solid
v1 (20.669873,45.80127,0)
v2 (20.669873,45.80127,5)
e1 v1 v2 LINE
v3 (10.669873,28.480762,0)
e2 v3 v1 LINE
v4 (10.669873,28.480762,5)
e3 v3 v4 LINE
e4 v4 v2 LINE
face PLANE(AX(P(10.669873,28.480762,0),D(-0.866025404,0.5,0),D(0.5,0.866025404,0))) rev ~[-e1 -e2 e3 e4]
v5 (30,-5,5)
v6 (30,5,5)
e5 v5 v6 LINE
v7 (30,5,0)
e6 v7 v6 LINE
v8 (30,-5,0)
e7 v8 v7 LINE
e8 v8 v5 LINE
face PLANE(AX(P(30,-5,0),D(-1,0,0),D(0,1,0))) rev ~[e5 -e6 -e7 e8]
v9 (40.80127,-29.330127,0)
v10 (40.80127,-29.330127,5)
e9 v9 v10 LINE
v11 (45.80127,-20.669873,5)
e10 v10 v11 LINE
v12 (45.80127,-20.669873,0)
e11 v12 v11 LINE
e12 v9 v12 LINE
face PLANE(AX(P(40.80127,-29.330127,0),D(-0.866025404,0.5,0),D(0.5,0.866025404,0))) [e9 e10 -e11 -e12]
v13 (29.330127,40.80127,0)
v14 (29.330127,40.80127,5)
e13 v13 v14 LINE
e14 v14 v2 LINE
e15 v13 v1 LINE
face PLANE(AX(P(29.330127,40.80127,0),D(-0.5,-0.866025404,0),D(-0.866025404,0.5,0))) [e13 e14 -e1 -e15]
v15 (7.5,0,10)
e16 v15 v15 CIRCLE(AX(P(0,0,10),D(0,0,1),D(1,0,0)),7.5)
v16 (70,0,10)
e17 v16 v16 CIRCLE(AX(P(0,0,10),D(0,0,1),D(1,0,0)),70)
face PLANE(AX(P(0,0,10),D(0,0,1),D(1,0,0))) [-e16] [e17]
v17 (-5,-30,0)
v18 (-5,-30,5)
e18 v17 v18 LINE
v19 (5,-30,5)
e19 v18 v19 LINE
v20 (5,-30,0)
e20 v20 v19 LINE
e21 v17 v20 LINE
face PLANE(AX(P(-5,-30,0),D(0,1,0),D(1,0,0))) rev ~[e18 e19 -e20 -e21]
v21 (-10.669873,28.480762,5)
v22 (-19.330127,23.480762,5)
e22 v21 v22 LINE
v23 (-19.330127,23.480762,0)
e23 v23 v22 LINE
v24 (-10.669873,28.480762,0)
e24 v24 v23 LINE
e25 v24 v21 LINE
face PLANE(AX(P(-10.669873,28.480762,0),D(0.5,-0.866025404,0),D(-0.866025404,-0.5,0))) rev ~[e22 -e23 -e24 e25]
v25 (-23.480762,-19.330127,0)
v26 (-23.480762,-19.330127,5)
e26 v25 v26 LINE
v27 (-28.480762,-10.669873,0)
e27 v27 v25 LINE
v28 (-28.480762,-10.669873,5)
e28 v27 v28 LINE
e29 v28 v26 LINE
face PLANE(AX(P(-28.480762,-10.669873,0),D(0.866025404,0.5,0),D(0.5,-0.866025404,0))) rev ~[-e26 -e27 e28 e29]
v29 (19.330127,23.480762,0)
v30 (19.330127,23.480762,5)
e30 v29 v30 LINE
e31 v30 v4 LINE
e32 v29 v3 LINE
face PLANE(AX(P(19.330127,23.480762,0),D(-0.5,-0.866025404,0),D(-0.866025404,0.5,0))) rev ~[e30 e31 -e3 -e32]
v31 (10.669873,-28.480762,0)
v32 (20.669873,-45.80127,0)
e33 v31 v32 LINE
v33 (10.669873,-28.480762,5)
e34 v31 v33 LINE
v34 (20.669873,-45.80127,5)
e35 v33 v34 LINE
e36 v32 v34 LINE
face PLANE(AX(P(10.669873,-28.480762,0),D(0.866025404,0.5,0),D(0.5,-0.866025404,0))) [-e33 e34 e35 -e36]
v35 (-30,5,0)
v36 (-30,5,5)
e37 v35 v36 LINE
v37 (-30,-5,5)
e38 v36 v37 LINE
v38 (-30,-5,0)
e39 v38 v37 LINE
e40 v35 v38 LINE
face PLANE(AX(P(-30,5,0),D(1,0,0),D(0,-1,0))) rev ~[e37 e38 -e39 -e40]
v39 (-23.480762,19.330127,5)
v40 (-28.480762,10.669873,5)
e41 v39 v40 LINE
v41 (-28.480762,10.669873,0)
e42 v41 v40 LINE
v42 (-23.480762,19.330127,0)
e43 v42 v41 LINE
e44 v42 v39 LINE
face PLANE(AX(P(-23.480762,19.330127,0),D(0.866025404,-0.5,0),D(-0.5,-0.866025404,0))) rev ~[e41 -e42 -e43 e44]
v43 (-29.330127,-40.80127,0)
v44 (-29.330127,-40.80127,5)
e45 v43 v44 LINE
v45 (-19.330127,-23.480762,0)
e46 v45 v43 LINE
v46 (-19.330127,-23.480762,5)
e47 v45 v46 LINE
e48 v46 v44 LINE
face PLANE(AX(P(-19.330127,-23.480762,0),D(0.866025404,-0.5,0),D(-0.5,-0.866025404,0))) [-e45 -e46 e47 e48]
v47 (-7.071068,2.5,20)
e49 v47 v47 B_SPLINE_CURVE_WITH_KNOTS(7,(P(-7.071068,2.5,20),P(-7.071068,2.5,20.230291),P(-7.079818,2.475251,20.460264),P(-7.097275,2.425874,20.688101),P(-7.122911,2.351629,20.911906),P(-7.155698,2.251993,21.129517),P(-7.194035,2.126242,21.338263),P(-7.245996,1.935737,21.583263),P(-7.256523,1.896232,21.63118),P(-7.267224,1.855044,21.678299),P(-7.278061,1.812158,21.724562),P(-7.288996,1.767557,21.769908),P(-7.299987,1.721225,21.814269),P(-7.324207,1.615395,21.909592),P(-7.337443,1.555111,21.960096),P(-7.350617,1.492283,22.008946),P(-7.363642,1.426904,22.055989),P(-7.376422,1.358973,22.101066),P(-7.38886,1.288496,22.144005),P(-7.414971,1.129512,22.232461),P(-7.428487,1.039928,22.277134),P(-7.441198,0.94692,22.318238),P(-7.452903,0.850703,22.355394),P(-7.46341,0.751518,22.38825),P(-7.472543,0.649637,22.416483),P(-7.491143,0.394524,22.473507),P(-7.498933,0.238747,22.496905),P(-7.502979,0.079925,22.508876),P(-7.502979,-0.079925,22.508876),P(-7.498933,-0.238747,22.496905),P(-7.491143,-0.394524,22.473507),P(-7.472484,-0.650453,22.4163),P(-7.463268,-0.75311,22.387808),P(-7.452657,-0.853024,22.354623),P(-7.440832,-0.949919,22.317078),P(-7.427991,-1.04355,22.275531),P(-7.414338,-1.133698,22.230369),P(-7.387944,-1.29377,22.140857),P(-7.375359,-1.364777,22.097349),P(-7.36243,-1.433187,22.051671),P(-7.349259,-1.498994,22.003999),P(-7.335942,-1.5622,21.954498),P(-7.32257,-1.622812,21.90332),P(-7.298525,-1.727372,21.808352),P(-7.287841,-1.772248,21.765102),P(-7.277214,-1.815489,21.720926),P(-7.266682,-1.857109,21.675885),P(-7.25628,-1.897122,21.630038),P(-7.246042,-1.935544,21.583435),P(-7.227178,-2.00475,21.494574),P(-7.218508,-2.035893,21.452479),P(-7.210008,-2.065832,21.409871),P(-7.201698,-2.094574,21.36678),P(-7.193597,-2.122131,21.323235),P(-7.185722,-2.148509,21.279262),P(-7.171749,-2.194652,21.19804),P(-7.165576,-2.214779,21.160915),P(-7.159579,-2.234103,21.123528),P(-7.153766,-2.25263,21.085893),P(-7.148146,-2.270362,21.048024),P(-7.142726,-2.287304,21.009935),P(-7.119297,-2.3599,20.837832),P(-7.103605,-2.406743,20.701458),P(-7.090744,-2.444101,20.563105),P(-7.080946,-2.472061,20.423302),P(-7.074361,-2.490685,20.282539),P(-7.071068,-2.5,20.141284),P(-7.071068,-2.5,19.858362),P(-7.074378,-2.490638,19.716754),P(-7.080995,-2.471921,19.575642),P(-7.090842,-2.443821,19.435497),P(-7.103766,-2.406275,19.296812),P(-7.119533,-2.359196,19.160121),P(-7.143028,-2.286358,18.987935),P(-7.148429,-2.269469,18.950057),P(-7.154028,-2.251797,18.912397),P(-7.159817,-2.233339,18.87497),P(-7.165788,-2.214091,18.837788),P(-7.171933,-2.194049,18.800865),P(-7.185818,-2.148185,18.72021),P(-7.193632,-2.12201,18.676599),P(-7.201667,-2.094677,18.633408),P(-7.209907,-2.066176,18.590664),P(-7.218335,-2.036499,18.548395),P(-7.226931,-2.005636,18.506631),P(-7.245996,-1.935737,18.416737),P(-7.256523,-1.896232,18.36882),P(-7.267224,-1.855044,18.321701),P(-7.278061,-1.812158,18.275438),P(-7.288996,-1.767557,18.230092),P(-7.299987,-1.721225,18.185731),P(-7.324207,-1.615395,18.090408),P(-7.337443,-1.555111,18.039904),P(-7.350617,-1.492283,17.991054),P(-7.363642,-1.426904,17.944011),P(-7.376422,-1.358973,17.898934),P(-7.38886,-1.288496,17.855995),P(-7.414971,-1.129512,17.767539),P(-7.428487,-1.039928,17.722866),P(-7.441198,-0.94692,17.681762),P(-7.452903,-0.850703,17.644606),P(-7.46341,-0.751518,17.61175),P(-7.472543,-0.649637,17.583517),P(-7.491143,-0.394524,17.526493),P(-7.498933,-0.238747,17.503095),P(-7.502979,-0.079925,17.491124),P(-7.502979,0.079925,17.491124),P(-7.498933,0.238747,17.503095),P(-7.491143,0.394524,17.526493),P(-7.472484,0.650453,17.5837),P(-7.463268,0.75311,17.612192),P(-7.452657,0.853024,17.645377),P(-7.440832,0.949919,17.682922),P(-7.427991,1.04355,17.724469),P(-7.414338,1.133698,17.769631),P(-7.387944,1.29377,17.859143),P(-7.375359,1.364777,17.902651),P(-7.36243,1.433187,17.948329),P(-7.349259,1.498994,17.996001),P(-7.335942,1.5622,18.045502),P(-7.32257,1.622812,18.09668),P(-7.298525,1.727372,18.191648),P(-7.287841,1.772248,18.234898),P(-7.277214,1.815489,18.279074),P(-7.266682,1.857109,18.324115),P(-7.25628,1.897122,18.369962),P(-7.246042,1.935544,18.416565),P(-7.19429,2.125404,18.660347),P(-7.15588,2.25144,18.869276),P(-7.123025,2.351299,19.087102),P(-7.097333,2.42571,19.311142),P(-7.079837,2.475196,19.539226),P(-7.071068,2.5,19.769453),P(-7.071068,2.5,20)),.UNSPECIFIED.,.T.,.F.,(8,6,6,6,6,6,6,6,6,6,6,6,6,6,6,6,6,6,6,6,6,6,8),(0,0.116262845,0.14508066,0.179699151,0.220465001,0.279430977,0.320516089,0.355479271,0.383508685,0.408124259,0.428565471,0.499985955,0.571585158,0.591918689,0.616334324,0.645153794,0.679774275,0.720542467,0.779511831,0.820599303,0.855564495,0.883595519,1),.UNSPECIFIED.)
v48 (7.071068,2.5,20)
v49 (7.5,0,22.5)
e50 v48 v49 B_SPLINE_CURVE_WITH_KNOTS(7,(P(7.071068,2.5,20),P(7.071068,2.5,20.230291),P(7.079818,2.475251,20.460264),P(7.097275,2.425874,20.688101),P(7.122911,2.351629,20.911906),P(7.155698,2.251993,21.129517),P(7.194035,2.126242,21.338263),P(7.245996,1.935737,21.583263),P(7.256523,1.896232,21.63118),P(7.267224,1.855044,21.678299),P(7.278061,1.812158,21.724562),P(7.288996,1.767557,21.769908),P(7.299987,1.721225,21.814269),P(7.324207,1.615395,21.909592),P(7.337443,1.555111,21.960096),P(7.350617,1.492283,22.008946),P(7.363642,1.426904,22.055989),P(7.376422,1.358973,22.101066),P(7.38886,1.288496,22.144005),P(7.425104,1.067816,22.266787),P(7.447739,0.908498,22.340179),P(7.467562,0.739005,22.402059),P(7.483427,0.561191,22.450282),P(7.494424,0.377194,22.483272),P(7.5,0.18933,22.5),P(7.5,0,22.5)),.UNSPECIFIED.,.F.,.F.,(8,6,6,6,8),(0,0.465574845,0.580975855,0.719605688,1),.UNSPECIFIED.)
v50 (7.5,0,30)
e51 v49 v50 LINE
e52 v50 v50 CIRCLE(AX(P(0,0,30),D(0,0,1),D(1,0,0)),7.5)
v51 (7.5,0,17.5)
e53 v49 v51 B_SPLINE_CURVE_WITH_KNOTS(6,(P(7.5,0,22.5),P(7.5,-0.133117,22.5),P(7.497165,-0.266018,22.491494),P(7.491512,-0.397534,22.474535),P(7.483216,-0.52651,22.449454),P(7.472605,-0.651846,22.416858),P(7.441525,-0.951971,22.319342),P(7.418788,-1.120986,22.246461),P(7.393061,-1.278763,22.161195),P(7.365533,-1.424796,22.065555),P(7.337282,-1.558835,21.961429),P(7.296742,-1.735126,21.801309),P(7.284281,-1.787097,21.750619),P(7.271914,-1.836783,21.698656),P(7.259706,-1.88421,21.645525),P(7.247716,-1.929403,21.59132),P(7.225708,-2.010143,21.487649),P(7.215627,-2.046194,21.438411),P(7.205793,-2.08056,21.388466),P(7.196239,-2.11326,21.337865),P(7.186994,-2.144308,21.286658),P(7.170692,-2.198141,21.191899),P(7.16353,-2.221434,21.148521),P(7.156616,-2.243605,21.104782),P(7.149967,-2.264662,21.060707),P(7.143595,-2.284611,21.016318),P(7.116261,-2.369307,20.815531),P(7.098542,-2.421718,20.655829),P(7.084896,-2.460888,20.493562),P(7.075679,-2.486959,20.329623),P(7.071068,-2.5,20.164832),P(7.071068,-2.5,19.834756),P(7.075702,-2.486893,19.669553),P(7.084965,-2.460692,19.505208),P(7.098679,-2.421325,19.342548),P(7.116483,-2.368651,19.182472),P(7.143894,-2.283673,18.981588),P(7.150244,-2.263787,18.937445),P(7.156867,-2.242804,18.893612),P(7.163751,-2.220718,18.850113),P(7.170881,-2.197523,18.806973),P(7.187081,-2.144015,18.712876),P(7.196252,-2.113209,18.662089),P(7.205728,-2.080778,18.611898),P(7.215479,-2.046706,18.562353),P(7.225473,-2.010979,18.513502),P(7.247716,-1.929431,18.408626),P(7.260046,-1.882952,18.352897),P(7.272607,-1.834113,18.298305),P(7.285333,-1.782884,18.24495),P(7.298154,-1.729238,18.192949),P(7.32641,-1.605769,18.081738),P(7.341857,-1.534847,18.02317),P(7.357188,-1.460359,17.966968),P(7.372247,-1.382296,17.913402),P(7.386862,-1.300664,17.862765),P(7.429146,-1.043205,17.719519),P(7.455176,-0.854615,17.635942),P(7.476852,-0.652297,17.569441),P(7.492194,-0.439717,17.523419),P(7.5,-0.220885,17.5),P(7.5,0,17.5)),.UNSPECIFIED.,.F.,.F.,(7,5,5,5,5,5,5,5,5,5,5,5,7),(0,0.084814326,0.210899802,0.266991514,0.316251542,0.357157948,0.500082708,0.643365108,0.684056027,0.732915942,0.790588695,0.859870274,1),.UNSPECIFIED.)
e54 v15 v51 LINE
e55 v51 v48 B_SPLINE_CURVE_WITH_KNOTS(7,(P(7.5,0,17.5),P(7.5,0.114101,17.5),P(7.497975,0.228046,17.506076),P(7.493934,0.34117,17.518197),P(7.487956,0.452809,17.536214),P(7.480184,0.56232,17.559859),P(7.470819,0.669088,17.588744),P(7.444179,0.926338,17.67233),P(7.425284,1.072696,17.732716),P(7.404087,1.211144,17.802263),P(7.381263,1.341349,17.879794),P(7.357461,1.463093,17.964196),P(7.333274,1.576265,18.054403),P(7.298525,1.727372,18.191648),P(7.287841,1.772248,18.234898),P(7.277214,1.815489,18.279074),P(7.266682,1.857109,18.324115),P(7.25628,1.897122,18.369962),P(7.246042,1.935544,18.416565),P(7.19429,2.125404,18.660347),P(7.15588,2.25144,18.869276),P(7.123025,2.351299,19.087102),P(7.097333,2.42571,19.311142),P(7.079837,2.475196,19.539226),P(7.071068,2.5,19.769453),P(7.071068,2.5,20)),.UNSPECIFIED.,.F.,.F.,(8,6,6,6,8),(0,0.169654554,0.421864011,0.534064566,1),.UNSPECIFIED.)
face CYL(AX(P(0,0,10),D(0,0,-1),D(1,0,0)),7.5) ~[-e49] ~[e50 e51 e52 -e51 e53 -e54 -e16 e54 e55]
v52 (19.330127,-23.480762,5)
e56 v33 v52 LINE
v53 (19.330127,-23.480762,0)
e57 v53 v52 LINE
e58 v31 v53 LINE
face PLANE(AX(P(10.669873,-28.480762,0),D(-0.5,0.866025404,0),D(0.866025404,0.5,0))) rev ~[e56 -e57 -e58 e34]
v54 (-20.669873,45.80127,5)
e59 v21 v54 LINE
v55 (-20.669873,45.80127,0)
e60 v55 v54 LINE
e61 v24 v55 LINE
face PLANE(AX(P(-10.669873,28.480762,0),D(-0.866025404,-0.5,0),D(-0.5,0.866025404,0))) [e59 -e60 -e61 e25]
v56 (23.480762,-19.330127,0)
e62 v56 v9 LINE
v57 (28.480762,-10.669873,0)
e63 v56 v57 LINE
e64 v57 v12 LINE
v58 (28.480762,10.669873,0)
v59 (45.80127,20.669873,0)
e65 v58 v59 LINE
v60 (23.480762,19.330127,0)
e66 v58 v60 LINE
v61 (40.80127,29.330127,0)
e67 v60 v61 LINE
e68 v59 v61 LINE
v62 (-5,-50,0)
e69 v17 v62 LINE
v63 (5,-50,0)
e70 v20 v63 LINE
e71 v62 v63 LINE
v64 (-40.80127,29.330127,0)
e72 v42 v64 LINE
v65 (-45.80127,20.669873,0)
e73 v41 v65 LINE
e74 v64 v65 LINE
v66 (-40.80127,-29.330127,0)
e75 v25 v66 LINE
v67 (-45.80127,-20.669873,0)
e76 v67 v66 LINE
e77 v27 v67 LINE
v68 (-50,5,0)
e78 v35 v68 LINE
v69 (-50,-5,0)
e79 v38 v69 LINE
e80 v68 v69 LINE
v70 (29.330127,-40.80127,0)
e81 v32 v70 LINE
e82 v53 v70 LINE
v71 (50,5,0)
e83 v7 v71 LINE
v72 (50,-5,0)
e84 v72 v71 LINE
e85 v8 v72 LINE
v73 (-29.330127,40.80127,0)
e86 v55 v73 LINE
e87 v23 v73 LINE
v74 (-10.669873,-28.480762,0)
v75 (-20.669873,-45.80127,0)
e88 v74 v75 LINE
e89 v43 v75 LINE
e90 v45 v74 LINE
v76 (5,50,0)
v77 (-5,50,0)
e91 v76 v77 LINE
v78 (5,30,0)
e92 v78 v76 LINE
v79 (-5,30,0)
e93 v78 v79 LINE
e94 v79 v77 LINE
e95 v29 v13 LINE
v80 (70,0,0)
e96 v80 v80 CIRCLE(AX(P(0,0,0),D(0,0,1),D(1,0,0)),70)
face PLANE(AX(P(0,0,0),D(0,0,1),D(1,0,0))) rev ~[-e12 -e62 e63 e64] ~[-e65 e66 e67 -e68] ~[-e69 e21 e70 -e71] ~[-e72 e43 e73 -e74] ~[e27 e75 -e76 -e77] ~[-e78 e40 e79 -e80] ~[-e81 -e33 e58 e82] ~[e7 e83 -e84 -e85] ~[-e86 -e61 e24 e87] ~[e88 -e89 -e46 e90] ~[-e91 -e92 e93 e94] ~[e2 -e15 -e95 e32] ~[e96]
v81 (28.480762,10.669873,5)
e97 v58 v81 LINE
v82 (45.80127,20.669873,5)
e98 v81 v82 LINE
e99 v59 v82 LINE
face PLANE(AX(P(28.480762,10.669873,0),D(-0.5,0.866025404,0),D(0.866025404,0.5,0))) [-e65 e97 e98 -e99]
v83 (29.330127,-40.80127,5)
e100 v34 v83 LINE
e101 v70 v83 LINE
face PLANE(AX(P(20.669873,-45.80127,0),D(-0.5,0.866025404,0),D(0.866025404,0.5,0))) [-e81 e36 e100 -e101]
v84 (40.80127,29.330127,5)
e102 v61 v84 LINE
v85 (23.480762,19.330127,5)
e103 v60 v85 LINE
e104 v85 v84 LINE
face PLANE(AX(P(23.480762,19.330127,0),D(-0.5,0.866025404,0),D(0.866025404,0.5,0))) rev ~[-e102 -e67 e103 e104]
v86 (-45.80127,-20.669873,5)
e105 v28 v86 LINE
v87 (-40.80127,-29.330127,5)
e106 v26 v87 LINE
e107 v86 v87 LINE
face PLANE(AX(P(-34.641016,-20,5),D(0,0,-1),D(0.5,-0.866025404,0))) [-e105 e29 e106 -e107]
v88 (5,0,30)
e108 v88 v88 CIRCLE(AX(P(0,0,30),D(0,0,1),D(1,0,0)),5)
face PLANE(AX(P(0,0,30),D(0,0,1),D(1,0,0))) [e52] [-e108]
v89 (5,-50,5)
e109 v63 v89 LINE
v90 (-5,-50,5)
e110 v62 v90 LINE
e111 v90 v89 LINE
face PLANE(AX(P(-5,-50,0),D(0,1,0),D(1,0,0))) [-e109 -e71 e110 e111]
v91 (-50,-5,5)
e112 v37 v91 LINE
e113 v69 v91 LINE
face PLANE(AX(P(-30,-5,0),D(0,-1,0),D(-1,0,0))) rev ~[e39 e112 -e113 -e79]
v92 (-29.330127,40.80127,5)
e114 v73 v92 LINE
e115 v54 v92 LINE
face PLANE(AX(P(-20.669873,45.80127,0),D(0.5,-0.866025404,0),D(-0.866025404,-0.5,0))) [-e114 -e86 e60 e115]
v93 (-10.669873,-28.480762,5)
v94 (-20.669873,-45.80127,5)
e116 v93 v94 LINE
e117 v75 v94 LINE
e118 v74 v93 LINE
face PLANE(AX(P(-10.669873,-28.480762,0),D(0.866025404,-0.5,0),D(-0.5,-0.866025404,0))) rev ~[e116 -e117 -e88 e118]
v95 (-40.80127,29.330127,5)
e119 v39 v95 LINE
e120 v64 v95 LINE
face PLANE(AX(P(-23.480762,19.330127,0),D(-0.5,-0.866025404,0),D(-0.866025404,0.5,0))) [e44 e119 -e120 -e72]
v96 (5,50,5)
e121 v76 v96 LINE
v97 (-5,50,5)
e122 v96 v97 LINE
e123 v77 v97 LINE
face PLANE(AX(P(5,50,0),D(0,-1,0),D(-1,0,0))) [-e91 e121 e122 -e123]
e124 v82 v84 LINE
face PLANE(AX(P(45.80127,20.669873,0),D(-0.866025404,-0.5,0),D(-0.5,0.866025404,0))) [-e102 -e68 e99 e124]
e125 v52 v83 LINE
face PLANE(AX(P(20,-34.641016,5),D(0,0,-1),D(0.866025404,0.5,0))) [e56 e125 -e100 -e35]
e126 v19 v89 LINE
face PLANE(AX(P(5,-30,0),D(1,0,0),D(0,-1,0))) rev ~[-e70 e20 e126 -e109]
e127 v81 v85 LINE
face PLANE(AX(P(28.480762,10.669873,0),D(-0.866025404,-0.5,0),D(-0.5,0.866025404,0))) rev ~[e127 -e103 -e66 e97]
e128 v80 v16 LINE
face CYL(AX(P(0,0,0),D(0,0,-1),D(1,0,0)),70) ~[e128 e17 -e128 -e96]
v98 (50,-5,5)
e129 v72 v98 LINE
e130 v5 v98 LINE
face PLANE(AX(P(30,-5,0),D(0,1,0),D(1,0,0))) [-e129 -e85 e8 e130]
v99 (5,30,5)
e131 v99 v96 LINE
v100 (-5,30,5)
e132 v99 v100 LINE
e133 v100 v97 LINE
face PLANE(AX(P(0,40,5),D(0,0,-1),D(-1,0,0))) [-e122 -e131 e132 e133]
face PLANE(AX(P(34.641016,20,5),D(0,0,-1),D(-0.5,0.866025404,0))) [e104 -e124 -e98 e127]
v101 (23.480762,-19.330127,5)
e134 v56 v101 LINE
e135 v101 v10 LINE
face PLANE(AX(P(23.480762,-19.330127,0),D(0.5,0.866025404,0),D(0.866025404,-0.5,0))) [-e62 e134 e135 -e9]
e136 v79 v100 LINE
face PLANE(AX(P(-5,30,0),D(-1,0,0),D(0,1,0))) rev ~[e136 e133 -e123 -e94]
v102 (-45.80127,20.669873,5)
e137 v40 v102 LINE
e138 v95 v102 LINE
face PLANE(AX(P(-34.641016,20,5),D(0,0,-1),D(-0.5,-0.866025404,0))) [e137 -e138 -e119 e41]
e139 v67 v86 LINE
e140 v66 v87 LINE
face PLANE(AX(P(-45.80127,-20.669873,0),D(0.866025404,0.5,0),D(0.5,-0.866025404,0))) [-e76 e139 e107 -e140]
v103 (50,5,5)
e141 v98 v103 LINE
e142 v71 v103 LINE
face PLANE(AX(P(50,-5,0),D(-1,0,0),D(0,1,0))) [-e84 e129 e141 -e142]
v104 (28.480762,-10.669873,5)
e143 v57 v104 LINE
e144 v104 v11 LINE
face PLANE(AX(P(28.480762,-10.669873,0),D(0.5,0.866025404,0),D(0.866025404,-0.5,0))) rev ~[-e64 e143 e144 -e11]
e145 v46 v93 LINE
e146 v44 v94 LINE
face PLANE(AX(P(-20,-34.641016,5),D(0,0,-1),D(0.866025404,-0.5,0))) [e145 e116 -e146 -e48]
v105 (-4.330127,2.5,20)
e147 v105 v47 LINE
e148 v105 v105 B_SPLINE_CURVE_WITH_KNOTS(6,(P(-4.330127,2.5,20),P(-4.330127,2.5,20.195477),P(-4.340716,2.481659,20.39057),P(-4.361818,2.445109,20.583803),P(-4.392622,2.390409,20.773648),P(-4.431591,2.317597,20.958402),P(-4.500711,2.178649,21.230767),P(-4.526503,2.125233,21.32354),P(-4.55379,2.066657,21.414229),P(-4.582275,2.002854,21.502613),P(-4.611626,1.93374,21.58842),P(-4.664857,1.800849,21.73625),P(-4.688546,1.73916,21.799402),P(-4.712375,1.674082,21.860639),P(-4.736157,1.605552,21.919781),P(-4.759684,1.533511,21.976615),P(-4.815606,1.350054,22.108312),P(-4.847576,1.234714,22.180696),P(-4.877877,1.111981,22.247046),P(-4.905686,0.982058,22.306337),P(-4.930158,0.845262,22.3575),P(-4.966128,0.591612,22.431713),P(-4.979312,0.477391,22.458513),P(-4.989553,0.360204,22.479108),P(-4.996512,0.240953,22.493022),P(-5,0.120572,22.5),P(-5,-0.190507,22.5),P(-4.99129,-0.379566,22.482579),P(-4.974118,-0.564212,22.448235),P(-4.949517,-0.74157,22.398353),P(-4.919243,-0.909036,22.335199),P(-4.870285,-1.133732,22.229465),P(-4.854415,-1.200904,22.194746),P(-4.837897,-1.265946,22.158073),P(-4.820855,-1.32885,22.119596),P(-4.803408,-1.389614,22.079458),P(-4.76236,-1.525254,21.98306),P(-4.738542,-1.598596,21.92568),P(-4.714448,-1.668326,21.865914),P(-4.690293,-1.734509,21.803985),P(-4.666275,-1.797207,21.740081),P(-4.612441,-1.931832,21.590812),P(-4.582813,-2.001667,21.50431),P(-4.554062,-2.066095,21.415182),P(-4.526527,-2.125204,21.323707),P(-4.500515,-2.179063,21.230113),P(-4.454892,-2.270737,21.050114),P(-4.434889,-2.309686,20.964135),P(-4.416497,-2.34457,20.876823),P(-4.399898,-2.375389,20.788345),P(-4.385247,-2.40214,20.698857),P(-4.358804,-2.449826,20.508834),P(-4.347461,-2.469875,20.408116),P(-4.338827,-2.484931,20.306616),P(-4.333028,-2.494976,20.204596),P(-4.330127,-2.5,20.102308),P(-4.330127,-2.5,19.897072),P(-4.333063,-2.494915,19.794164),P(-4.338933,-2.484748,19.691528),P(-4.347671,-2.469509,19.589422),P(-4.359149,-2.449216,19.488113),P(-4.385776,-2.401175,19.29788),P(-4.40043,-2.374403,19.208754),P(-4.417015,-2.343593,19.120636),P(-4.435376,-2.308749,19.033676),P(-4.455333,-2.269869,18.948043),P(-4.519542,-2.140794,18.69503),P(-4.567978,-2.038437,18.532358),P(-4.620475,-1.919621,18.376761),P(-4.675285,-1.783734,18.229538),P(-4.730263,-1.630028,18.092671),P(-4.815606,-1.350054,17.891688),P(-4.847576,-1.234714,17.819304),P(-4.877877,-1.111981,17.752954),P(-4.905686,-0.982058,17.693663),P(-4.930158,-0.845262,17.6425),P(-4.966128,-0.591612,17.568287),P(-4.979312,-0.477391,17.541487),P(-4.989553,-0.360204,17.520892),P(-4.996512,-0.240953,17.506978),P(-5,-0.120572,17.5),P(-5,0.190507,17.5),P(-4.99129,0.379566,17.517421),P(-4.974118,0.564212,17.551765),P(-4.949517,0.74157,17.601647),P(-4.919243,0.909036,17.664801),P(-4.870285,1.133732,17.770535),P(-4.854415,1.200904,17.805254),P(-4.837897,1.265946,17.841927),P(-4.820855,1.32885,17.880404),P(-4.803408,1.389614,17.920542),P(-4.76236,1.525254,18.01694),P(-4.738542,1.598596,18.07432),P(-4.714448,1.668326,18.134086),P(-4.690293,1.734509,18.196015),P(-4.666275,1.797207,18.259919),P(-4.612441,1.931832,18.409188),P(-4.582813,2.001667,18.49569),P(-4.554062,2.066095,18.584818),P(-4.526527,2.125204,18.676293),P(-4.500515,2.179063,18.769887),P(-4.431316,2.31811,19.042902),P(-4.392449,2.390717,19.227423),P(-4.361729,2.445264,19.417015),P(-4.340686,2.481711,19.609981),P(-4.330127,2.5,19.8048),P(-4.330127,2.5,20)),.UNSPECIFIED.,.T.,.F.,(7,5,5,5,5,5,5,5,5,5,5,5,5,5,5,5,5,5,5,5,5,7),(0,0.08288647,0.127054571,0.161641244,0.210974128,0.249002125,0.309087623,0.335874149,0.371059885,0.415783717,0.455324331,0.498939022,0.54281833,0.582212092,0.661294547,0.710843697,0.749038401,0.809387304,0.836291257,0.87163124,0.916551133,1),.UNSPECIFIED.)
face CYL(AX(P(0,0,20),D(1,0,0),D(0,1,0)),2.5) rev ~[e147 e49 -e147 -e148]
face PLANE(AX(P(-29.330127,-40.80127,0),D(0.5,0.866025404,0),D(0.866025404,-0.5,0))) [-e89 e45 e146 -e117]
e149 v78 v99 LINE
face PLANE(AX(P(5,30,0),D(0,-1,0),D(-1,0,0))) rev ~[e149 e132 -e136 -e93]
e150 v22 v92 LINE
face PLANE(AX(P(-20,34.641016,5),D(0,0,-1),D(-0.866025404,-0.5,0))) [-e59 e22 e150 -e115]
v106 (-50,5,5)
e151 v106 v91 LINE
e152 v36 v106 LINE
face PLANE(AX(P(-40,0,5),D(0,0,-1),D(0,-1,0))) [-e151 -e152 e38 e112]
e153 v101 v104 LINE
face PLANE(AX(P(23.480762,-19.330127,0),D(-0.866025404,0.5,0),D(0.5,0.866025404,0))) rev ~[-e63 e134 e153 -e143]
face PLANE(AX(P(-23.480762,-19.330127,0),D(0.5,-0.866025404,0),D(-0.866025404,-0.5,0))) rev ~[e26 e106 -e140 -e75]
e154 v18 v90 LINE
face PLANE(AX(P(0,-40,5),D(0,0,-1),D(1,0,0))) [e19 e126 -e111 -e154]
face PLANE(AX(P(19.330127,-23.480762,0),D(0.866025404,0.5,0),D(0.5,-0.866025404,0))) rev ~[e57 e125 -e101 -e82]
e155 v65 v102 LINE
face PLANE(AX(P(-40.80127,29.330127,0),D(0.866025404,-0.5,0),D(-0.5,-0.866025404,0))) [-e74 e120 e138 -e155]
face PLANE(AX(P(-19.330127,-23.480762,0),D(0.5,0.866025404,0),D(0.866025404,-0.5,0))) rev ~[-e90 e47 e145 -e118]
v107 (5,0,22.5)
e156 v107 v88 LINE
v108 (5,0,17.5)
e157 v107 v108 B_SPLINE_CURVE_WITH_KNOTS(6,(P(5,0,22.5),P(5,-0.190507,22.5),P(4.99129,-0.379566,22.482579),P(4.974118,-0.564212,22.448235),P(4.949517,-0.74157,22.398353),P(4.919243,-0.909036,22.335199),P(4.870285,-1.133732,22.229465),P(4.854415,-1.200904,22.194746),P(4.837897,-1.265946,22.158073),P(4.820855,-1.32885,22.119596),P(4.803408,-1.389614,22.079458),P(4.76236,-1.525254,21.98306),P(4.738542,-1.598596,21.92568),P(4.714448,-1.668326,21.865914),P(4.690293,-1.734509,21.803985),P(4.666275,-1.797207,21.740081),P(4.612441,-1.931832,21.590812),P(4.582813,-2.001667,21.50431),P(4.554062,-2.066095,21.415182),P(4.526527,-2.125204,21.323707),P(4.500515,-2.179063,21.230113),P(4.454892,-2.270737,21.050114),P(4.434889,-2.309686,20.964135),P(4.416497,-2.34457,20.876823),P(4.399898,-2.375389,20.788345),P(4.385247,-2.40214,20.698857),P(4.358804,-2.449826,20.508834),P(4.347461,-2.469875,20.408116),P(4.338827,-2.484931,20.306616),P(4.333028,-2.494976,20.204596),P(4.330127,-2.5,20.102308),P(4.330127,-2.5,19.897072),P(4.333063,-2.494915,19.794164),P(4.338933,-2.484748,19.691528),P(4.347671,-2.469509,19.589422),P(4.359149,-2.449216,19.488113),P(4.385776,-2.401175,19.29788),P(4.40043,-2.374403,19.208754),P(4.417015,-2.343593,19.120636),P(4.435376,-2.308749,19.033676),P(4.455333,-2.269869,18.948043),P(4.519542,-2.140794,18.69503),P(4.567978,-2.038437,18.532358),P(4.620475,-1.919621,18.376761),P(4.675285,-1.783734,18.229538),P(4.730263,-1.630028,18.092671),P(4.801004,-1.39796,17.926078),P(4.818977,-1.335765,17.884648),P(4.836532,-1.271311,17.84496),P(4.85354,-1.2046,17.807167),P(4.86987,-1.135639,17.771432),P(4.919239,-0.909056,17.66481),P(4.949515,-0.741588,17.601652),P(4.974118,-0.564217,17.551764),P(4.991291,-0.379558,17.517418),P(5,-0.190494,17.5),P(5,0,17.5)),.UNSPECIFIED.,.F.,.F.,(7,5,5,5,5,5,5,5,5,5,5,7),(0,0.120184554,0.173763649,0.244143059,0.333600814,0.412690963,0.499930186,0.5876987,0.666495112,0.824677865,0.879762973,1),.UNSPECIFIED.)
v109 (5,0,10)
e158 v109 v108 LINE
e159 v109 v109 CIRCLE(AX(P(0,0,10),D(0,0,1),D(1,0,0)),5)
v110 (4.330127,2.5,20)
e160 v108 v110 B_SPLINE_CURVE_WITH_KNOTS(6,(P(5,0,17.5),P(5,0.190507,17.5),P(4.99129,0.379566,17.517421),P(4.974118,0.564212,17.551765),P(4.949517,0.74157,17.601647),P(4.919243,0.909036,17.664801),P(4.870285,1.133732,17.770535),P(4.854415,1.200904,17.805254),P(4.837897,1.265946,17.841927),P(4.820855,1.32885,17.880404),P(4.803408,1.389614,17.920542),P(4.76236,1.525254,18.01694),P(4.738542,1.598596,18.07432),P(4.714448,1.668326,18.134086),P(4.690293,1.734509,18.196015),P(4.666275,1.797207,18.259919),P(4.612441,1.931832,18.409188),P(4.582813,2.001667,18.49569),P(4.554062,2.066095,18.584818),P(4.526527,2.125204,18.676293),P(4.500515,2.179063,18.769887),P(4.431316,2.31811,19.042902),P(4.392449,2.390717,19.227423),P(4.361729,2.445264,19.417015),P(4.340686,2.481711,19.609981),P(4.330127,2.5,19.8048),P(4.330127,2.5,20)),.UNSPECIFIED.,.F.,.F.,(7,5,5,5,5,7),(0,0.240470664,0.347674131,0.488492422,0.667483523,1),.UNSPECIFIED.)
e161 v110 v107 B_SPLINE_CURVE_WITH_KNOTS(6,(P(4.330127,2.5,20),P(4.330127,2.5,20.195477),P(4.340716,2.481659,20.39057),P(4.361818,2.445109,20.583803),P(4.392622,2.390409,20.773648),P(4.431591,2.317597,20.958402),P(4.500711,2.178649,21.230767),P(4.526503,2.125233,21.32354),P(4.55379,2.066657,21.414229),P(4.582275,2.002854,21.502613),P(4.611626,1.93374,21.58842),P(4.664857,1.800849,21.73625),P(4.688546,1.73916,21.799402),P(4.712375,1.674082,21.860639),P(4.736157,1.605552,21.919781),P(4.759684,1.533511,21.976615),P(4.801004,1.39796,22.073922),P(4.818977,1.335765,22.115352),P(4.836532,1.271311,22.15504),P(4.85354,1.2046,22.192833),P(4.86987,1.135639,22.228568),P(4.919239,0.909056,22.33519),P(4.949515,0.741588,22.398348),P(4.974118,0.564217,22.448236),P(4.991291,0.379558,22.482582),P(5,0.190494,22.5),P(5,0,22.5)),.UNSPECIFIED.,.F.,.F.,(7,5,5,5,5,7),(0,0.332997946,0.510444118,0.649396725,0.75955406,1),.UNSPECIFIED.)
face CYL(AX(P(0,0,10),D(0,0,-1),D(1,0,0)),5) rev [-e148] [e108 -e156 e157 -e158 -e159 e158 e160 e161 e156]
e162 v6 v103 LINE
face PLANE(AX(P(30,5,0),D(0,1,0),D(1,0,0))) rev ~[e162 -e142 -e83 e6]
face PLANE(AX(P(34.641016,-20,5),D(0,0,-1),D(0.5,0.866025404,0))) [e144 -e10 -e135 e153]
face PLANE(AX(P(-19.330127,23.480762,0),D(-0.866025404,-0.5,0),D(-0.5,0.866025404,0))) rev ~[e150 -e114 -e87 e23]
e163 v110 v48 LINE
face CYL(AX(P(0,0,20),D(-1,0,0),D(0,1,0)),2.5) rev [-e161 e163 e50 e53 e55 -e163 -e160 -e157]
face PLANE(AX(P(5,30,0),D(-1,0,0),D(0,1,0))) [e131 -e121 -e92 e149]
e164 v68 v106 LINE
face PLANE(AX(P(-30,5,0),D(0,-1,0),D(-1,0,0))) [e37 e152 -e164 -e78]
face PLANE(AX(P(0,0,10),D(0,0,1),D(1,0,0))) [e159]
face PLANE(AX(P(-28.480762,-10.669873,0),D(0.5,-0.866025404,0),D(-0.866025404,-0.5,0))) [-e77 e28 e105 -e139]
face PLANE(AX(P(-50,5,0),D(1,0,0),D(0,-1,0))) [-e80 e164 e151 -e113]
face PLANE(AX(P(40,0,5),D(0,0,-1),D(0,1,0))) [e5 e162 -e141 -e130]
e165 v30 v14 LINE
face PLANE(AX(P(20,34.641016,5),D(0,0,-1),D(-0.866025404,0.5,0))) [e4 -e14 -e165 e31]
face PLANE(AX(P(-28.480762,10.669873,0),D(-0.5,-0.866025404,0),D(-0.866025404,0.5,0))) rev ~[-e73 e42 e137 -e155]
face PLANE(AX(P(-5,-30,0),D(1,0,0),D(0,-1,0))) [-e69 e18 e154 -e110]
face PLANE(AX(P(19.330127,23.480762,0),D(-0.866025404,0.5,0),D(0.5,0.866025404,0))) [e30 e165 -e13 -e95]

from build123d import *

# Parameters (mm, degrees)
SKETCH_R             = 70
PAD_DEPTH            = 10
SKETCH001_W          = 10
SKETCH001_H          = 20
POCKET_DEPTH         = 5
POLARPATTERN_COUNT   = 12
SKETCH002_R          = 7.5
SKETCH002_R_2        = 5
PAD001_DEPTH         = 20
SKETCH003_R          = 2.5
POCKET001_DEPTH      = 70.001
POCKET001_DEPTH_BACK = -70.001


with BuildPart() as part:
    # Sketch → Pad (new body)
    with BuildSketch(Plane.XY):
        Circle(SKETCH_R)
    extrude(amount=PAD_DEPTH)

    # Sketch001 (on Face2 of Pad) → Pocket (cut)
    with BuildSketch(Plane(origin=(0, 0, 0), x_dir=(1, 0, 0), z_dir=(0, 0, -1))):
        with Locations((0, 40)):
            Rectangle(SKETCH001_W, SKETCH001_H)
    pocket = extrude(amount=-POCKET_DEPTH, mode=Mode.SUBTRACT)

    # PolarPattern: Pocket ×12 about axis
    polarpattern_axis = Axis((0, 0, 0), (0, 0, -1))
    for i in range(1, POLARPATTERN_COUNT):
        add(pocket.rotate(polarpattern_axis, i * 360 / POLARPATTERN_COUNT), mode=Mode.SUBTRACT)

    # Sketch002 (on Face3 of PolarPattern) → Pad001 (join)
    with BuildSketch(Plane.XY.offset(10)):
        Circle(SKETCH002_R)
        Circle(SKETCH002_R_2, mode=Mode.SUBTRACT)
    extrude(amount=PAD001_DEPTH)

    # Sketch003 → Pocket001 (cut, two sides)
    with BuildSketch(Plane.YZ) as pocket001_sk:
        with Locations((0, 20)):
            Circle(SKETCH003_R)
    extrude(amount=-POCKET001_DEPTH, mode=Mode.SUBTRACT)
    extrude(pocket001_sk.sketch, amount=-POCKET001_DEPTH_BACK, mode=Mode.SUBTRACT)


solid = part.part
